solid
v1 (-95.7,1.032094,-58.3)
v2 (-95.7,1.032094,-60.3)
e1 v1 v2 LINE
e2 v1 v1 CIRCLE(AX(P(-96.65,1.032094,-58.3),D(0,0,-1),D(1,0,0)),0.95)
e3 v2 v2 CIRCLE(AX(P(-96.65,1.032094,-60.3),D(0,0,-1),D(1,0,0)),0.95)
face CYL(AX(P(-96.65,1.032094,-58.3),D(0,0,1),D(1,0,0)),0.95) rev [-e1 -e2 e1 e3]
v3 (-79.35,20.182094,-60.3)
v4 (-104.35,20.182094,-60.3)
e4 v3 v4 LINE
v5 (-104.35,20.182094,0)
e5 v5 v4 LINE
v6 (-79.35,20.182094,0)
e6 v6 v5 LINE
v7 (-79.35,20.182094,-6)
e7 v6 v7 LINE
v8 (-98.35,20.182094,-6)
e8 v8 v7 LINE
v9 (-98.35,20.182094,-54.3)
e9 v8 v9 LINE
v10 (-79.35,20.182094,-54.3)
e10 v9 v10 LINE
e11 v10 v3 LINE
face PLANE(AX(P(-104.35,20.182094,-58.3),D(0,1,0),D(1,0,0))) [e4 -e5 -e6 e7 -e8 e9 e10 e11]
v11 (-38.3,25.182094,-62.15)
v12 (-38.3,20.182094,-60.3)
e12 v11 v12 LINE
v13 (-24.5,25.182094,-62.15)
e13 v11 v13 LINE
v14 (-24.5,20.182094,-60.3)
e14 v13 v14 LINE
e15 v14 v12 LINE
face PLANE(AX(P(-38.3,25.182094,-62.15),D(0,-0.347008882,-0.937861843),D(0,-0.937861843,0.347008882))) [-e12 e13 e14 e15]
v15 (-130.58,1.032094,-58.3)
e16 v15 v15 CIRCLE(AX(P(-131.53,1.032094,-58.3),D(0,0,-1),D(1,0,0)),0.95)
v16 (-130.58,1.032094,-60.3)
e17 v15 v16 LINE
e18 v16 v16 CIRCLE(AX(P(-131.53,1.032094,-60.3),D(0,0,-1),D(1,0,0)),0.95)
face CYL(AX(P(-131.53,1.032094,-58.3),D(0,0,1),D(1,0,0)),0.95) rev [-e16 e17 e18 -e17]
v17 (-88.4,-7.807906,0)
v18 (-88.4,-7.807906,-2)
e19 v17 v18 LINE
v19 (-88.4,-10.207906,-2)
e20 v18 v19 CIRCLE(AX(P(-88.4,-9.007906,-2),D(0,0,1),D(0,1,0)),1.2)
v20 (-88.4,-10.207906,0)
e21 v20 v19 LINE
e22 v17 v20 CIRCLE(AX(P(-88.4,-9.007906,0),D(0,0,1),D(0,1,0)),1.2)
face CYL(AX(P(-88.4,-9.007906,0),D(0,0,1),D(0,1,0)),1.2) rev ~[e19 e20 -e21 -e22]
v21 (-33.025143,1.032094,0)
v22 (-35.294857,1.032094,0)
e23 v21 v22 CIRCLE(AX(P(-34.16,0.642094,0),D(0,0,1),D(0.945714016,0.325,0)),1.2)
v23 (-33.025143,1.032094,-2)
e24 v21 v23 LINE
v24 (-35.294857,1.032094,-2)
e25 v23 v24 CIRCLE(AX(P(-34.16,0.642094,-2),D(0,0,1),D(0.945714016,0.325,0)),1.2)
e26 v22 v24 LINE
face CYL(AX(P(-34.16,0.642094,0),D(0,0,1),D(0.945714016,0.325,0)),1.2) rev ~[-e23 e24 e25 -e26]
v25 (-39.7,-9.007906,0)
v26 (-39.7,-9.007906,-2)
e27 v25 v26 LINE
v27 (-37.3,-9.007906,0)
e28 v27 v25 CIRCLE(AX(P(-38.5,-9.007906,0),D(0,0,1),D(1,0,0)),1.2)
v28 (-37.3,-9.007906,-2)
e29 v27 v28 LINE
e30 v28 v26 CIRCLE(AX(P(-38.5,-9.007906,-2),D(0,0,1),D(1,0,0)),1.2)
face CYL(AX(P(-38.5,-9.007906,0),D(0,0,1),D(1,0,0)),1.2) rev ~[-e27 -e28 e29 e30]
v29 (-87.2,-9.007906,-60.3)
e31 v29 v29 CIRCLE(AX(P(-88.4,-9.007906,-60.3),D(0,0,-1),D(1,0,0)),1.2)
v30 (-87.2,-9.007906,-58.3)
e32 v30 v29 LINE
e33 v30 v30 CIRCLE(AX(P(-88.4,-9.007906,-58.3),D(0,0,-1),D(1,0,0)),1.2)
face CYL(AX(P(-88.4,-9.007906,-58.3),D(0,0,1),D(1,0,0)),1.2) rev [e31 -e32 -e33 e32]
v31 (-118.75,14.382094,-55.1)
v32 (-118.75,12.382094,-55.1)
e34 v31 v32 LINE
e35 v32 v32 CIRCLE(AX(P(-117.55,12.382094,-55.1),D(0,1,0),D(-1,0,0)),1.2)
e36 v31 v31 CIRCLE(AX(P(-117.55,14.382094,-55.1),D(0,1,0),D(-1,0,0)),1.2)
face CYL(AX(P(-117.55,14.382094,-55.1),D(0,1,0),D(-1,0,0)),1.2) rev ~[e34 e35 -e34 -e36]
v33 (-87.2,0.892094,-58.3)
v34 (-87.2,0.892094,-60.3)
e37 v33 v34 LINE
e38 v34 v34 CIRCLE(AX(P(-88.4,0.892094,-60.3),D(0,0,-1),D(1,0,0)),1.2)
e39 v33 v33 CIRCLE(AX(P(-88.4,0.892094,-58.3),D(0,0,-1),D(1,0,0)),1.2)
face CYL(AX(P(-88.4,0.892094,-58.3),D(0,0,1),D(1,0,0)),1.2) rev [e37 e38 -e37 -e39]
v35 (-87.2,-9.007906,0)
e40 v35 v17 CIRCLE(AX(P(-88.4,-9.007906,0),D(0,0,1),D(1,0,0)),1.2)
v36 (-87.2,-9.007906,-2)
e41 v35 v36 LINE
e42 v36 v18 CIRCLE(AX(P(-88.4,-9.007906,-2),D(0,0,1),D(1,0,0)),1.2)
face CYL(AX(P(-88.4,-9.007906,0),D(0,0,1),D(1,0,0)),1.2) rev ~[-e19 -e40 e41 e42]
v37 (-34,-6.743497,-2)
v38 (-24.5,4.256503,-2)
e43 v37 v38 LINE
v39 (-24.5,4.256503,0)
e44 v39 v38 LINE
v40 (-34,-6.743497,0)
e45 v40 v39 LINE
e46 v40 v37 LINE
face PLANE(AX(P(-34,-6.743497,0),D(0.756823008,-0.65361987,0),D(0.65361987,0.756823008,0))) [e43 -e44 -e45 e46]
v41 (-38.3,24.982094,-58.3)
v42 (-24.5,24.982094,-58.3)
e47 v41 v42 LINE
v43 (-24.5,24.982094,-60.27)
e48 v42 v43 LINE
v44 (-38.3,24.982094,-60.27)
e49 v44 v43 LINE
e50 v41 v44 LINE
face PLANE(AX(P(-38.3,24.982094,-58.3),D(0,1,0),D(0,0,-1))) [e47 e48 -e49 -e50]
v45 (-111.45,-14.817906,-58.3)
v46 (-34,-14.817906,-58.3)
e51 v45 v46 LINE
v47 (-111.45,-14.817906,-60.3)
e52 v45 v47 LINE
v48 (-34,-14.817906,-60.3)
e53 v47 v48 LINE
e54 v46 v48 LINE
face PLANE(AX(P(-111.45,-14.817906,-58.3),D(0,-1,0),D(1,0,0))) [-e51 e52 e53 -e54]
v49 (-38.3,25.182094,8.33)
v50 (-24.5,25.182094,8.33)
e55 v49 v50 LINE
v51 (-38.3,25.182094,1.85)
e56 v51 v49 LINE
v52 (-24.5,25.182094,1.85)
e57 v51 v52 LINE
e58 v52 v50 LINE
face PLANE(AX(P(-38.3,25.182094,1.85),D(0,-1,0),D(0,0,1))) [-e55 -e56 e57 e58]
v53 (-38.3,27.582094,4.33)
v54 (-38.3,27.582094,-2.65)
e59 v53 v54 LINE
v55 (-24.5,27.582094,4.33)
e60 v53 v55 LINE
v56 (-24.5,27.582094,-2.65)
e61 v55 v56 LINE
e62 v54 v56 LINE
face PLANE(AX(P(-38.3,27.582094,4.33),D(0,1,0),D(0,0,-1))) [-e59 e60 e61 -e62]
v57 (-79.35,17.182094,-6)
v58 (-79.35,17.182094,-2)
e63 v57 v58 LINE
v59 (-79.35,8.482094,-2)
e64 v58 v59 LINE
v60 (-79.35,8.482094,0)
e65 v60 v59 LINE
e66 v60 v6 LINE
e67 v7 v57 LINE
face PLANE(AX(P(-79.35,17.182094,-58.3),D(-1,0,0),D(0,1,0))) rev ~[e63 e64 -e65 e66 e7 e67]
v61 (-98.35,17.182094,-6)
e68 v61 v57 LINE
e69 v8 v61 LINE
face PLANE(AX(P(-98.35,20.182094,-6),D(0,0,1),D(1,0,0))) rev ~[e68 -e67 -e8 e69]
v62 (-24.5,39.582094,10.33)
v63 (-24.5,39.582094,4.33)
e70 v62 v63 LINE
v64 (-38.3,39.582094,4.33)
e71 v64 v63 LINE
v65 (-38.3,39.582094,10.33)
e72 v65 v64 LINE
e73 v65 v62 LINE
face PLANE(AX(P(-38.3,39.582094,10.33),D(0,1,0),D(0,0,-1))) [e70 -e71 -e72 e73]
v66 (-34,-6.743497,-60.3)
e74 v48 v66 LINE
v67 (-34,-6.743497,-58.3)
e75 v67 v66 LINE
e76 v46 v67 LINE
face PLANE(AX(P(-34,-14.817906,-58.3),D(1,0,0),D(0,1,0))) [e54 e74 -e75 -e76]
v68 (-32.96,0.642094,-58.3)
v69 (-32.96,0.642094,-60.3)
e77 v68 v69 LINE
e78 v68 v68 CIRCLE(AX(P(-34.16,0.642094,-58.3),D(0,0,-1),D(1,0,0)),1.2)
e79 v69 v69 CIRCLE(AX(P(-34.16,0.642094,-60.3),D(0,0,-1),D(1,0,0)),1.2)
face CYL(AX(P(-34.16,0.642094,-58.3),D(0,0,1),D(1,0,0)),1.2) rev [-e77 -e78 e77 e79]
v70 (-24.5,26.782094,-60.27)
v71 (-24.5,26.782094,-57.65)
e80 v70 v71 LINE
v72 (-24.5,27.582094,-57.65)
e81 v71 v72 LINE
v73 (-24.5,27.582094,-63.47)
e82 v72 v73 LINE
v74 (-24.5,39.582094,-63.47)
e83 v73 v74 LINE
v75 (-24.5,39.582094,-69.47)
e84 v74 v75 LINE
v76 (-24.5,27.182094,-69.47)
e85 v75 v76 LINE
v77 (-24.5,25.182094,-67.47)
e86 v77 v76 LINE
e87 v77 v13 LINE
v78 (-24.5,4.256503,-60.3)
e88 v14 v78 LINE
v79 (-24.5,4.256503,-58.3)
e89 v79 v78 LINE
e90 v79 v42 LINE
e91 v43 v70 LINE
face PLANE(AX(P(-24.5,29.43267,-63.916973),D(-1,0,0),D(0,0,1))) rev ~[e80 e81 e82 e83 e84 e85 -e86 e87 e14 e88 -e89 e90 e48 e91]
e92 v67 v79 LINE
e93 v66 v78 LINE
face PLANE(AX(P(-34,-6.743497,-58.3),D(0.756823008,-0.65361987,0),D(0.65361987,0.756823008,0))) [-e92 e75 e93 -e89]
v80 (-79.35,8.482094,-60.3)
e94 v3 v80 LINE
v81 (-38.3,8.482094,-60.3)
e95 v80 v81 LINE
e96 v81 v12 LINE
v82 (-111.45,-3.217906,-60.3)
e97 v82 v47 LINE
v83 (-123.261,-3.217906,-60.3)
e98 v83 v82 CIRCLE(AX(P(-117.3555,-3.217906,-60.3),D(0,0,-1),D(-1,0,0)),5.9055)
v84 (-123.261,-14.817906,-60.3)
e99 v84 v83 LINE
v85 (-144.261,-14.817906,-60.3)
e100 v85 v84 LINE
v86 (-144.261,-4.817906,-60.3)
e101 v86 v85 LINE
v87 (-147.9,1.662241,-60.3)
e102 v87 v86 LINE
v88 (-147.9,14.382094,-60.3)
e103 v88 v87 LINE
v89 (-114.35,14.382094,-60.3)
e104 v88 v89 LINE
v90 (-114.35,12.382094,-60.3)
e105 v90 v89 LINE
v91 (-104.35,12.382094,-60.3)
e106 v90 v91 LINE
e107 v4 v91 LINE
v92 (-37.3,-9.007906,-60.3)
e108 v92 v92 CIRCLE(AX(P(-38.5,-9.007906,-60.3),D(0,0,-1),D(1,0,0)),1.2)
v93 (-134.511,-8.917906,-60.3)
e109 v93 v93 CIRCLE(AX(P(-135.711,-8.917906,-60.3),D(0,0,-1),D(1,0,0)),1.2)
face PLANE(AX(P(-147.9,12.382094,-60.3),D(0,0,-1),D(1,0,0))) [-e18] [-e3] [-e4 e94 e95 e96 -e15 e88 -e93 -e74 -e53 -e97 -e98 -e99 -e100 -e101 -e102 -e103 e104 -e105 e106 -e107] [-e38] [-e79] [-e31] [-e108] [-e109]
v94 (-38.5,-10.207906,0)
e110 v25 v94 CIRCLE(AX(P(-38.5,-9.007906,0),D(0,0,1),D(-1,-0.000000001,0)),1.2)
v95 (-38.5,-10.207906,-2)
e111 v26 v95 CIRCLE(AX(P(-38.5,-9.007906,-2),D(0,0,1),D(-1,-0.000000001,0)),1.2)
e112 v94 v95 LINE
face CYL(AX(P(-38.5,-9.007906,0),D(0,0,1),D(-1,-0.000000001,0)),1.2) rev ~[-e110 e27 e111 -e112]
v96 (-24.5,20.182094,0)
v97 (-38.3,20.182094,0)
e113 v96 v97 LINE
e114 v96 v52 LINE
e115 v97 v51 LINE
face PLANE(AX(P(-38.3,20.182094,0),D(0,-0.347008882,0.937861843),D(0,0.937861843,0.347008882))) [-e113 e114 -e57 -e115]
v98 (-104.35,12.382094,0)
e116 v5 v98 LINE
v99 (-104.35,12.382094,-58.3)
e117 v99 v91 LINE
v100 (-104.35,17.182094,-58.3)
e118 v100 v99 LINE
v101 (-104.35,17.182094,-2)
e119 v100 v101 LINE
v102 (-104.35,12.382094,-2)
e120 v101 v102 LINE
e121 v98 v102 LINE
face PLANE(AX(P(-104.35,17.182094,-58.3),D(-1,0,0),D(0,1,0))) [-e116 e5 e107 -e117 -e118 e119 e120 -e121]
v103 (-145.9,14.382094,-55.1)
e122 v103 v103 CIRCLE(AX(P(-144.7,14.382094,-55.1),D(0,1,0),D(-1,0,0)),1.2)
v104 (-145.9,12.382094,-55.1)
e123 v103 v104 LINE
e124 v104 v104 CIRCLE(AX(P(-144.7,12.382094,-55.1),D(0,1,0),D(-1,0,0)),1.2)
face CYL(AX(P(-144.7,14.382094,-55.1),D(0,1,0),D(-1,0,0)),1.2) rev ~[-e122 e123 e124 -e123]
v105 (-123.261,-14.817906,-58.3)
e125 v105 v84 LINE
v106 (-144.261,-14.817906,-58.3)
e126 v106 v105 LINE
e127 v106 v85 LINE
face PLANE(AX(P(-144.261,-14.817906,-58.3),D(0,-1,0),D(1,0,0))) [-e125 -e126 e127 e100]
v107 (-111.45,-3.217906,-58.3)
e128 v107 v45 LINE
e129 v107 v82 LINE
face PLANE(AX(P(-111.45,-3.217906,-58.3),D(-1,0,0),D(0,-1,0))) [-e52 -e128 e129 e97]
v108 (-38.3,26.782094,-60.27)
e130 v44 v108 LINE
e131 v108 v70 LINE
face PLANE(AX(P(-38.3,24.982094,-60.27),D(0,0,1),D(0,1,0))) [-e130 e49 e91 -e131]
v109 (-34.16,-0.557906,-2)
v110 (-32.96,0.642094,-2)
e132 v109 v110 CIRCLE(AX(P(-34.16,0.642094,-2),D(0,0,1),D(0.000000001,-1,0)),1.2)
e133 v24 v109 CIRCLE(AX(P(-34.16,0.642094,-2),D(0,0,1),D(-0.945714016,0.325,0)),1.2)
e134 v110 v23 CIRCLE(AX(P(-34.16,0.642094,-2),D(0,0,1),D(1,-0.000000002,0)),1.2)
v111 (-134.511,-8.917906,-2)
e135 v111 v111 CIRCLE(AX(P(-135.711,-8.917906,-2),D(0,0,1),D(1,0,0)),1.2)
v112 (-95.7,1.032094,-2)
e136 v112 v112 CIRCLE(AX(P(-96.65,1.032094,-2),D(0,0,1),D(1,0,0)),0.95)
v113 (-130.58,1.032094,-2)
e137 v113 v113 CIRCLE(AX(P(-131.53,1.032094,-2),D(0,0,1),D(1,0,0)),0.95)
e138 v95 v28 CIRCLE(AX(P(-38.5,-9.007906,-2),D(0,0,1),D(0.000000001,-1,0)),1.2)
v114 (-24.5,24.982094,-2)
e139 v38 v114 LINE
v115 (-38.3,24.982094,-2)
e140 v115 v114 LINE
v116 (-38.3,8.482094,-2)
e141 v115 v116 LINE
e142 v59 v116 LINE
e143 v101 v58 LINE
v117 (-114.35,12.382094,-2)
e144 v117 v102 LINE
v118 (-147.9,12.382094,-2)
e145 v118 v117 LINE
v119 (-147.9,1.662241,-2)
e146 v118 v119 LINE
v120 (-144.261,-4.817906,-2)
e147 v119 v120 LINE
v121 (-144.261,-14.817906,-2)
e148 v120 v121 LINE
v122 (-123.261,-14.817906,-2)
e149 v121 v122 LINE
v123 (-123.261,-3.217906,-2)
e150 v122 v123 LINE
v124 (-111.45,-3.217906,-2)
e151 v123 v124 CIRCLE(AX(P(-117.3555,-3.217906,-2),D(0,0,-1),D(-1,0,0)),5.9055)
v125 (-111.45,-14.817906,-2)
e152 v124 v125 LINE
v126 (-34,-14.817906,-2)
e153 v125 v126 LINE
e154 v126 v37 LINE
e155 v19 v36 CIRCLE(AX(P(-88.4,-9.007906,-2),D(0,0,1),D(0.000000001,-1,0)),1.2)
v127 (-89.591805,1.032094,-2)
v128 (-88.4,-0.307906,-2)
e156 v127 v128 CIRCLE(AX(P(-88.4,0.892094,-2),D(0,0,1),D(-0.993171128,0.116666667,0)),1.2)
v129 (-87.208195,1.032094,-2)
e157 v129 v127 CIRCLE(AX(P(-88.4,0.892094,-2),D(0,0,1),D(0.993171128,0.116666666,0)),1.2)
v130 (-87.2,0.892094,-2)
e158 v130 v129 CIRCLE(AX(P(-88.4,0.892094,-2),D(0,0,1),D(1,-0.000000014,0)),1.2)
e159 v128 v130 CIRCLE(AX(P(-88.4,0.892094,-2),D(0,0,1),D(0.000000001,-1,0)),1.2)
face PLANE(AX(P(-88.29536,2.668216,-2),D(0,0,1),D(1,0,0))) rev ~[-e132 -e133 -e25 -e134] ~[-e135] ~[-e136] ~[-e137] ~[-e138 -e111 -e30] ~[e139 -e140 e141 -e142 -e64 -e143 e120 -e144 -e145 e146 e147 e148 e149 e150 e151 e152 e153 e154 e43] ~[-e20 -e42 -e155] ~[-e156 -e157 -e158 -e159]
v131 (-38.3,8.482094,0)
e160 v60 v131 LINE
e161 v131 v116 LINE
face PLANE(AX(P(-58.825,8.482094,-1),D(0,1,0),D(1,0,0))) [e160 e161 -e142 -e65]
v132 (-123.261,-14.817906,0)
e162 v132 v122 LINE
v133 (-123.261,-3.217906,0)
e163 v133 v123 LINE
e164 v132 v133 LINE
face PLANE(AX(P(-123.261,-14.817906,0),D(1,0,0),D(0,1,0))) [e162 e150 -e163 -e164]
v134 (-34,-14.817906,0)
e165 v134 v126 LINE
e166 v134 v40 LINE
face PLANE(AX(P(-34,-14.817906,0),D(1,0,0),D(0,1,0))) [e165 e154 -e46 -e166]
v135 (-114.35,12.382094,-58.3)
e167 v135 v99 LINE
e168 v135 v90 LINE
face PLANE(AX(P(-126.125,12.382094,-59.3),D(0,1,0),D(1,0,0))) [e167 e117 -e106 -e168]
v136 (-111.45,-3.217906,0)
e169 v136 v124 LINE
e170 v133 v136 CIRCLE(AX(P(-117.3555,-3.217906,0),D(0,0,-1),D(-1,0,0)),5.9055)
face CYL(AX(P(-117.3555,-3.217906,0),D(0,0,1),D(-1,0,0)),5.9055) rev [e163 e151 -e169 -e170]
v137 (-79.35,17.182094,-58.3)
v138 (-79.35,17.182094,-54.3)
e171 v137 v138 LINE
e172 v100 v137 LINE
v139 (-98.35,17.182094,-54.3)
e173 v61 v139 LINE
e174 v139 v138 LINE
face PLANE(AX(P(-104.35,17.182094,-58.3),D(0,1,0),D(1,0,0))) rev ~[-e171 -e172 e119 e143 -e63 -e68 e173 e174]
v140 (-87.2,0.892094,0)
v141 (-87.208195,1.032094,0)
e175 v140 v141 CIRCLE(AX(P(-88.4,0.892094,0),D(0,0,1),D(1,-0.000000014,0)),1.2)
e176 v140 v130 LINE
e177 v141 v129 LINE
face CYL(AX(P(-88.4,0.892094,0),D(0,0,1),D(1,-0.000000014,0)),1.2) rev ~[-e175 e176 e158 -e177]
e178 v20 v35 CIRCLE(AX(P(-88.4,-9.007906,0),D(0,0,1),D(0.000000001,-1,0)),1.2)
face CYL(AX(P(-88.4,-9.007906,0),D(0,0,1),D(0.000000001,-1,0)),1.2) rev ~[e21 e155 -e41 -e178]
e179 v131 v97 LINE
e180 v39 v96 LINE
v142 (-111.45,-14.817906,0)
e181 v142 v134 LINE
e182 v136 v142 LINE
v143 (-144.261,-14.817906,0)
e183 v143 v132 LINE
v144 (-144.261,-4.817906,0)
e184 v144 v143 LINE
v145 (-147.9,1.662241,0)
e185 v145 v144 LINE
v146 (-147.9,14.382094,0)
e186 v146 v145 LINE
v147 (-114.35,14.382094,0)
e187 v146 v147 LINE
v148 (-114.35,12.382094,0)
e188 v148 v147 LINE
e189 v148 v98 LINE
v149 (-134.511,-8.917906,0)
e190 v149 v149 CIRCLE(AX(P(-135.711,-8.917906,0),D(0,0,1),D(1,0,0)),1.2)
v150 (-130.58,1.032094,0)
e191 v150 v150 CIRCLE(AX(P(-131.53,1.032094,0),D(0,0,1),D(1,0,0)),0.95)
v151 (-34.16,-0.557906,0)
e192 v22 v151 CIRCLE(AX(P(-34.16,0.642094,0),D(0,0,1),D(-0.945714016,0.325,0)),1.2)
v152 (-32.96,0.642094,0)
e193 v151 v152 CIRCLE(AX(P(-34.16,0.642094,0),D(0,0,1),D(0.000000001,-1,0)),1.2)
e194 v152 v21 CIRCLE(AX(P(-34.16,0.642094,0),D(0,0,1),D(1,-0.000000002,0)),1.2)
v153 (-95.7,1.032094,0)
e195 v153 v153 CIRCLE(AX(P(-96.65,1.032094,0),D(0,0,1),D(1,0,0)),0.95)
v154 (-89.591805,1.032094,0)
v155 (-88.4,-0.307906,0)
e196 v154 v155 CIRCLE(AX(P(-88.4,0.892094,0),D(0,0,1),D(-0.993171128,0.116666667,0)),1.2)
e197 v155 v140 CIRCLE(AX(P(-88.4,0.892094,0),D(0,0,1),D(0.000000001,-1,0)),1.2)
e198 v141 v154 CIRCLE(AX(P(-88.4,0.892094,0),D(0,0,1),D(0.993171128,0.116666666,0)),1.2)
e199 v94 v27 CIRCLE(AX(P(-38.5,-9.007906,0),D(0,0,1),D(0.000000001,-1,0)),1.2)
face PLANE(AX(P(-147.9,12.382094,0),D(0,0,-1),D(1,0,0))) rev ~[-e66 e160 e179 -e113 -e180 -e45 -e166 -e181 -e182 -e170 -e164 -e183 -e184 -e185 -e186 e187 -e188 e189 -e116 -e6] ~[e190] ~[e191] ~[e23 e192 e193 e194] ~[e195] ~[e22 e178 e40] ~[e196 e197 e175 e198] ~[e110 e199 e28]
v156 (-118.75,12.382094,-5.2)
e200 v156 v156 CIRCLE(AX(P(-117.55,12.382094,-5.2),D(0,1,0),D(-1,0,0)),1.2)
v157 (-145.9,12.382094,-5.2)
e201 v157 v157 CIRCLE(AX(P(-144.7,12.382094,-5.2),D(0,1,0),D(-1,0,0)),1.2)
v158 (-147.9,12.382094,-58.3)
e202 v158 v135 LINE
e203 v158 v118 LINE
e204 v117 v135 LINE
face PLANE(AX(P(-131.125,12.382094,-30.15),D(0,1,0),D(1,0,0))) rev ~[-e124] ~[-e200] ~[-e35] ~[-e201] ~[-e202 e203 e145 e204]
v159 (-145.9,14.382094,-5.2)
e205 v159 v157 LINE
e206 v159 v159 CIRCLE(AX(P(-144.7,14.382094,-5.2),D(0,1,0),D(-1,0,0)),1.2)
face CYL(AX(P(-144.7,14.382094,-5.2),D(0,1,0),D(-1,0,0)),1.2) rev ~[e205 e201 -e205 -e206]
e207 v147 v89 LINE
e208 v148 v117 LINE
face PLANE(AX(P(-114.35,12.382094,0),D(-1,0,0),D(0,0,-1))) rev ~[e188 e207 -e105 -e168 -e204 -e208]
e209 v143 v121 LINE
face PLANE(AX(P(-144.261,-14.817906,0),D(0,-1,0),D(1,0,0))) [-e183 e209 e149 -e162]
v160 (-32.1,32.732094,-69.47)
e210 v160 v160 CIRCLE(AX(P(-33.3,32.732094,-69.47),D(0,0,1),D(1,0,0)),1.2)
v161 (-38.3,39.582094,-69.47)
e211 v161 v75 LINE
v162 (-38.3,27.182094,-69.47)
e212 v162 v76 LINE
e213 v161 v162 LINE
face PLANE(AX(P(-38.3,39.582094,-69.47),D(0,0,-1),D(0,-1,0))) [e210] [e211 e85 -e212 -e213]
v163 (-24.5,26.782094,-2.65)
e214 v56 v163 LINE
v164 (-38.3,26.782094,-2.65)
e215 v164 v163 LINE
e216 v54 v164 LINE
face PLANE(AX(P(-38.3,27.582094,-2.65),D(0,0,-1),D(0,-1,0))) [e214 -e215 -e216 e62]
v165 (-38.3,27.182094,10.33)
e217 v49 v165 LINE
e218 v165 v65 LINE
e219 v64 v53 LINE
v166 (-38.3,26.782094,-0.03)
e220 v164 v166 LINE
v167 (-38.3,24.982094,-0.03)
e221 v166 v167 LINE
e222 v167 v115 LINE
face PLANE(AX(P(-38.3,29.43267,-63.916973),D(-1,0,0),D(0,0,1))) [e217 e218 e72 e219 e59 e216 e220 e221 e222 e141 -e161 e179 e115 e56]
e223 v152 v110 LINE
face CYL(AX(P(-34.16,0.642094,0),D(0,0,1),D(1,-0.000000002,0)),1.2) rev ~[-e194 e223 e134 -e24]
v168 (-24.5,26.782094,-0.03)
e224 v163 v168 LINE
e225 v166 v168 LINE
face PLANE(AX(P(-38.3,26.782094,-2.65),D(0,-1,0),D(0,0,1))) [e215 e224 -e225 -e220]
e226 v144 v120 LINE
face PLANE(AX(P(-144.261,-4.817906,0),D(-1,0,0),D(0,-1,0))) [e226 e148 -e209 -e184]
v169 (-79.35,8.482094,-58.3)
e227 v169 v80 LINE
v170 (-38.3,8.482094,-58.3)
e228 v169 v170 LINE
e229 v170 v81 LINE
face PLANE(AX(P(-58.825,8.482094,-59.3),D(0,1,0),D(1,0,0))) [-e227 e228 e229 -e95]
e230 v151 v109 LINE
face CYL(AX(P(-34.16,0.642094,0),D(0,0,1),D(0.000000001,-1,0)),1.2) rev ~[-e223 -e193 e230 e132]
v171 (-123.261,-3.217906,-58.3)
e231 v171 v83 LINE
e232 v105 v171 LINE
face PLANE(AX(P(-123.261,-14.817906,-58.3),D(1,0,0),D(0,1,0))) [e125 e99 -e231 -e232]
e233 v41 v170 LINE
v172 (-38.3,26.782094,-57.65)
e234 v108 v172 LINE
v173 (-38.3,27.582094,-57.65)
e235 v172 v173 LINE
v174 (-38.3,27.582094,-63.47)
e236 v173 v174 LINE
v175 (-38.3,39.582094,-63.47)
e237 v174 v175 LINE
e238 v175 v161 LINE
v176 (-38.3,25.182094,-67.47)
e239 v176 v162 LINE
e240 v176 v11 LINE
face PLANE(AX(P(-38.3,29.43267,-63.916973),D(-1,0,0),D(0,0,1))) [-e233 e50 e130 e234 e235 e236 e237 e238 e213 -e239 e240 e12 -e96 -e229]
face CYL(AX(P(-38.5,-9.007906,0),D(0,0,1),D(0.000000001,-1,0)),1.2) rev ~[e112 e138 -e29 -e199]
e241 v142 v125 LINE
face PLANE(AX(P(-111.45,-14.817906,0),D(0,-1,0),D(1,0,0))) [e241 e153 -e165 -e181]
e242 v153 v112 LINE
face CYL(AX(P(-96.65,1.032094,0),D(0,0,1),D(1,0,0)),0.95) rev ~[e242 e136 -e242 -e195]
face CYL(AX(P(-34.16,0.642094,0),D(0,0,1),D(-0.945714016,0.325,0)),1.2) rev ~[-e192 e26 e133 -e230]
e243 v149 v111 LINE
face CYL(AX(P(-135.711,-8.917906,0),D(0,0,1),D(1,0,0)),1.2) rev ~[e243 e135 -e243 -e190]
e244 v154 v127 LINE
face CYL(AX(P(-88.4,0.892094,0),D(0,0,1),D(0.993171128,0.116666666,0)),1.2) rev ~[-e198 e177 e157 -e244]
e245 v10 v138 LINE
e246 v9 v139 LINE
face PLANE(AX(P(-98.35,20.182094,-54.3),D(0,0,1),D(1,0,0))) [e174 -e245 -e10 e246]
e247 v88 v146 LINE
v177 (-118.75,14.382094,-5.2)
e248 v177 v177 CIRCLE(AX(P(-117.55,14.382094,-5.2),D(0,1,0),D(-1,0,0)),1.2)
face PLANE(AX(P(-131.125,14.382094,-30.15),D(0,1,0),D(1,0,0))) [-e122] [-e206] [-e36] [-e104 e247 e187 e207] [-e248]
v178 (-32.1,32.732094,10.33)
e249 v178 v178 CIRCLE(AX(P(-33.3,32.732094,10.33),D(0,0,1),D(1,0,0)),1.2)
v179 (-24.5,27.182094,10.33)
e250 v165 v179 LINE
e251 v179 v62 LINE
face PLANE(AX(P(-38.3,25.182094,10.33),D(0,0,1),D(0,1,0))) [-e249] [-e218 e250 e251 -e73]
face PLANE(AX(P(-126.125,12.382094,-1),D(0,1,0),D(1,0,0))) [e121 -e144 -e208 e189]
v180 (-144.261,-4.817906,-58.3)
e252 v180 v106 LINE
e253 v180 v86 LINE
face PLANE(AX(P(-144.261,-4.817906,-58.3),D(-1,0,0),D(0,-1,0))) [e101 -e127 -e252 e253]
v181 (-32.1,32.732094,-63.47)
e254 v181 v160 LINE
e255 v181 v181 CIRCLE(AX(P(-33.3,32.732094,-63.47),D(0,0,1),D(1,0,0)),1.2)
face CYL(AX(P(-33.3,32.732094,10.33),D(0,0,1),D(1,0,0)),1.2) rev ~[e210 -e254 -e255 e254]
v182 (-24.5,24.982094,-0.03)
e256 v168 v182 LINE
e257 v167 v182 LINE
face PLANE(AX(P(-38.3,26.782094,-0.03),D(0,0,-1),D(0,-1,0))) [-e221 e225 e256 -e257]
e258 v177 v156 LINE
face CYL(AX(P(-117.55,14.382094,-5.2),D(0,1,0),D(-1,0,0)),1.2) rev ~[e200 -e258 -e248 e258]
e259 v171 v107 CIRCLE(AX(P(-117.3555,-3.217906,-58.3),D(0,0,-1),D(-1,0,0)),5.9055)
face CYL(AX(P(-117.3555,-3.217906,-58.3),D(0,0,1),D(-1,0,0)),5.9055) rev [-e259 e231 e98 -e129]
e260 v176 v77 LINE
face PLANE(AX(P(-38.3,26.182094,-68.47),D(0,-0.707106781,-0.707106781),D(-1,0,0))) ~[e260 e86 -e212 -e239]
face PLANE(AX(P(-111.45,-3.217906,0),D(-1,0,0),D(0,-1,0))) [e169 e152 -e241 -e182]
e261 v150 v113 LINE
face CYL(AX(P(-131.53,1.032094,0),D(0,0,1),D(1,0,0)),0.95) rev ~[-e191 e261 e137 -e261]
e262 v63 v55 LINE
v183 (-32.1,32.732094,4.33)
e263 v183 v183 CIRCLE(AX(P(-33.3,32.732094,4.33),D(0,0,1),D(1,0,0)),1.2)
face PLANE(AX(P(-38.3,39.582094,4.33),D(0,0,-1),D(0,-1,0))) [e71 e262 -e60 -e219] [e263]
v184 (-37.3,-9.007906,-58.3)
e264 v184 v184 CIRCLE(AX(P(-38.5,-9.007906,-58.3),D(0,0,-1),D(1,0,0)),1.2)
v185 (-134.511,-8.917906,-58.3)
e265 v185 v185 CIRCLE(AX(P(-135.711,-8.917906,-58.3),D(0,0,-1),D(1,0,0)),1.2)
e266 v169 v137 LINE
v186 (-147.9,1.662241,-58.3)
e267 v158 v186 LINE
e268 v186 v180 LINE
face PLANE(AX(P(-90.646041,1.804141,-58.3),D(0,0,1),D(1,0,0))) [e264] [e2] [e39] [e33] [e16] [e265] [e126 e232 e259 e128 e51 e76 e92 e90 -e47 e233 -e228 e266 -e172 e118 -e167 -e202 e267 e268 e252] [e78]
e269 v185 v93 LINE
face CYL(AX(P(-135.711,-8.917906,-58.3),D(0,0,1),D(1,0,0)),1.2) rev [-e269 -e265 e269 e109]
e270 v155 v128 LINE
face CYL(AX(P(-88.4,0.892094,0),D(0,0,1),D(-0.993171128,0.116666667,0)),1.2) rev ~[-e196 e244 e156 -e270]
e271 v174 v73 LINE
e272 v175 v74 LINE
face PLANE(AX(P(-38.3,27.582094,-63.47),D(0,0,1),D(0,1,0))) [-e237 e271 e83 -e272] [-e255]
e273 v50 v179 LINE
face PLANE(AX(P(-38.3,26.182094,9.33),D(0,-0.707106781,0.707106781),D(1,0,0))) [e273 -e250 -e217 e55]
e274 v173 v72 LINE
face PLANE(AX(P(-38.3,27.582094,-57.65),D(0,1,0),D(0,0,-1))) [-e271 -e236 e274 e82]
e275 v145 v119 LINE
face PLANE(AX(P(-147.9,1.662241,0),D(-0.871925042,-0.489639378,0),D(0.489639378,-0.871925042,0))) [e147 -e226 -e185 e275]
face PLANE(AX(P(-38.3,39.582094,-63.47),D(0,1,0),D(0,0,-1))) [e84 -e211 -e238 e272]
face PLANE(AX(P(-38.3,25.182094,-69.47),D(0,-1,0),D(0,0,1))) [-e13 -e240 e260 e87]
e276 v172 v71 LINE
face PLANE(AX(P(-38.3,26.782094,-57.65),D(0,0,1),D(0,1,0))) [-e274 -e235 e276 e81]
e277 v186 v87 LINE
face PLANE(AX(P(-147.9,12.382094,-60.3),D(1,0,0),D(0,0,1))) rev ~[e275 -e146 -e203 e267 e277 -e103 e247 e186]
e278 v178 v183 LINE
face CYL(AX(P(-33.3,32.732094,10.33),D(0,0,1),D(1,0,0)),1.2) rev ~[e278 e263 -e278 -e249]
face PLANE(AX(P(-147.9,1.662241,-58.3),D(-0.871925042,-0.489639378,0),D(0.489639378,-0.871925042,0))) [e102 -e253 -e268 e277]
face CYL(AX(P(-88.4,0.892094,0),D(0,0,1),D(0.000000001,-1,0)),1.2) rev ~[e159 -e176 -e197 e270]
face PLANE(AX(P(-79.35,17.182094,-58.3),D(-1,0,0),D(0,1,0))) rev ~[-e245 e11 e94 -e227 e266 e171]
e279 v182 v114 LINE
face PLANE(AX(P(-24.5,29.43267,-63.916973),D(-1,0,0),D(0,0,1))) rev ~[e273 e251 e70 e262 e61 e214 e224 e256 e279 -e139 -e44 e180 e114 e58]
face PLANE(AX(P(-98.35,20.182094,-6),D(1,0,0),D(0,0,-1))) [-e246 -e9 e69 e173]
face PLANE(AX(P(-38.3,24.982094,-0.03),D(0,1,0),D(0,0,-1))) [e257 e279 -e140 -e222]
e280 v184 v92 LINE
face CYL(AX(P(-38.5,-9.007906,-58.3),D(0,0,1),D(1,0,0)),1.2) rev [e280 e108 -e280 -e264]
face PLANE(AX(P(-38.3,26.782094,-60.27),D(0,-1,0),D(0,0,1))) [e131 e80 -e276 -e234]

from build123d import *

# Parameters (mm, degrees)
EXTRUDE_1_DEPTH     = 2
SKETCH_3_R          = 1.2
SKETCH_3_R_2        = 0.95
CUT_EXTRUDE_1_DEPTH = 2
SKETCH_4_W          = 56.3
SKETCH_4_H          = 2
EXTRUDE_2_DEPTH     = 13.8
SKETCH_5_R          = 1.2
SKETCH_5_R_2        = 0.95
SKETCH_5_W          = 13.8
SKETCH_5_H          = 5
SKETCH_5_H_2        = 2
EXTRUDE_3_DEPTH     = 2
SKETCH_6_W          = 43.55
SKETCH_6_H          = 2
CUT_EXTRUDE_2_DEPTH = 7.8
SKETCH_7_W          = 41.05
SKETCH_7_H          = 2
CUT_EXTRUDE_3_DEPTH = 3.9
EXTRUDE_4_DEPTH     = 13.8
SKETCH_9_W          = 25
SKETCH_9_H          = 3
EXTRUDE_5_DEPTH     = 56.3
SKETCH_10_W         = 33.55
SKETCH_10_H         = 56.3
SKETCH_10_H_2       = 2
EXTRUDE_6_DEPTH     = 2
SKETCH_11_W         = 56.3
SKETCH_11_H         = 2
CUT_EXTRUDE_4_DEPTH = 13.8
SKETCH_12_R         = 1.2
CUT_EXTRUDE_5_DEPTH = 166.991357908
SKETCH_16_R         = 1.2
CUT_EXTRUDE_6_DEPTH = 173.653387316
CHAMFER_1_SIZE      = 2
SKETCH_17_W         = 19
SKETCH_17_H         = 48.3
CUT_EXTRUDE_7_DEPTH = 10


with BuildPart() as part:
    # 草图2 → 凸台-拉伸1 (new body)
    with BuildSketch(Plane.XY):
        with BuildLine():
            Line((-24.5, 4.256503127), (-24.5, 20.182093825))
            Line((-24.5, 20.182093825), (-38.3, 20.182093825))
            Line((-38.3, 20.182093825), (-38.3, 12.382093825))
            Line((-38.3, 12.382093825), (-79.35, 12.382093825))
            Line((-79.35, 12.382093825), (-79.35, 20.182093825))
            Line((-79.35, 20.182093825), (-147.9, 20.182093825))
            Line((-147.9, 20.182093825), (-147.9, 1.662240991))
            Line((-147.9, 1.662240991), (-144.261, -4.817906175))
            Line((-144.261, -4.817906175), (-144.261, -14.817906175))
            Line((-144.261, -14.817906175), (-123.261, -14.817906175))
            Line((-123.261, -14.817906175), (-123.261, -3.217906175))
            ThreePointArc((-123.261, -3.217906175), (-117.3555, 2.687593825), (-111.45, -3.217906175))
            Line((-111.45, -3.217906175), (-111.45, -14.817906175))
            Line((-111.45, -14.817906175), (-34, -14.817906175))
            Line((-34, -14.817906175), (-34, -6.743496873))
            Line((-34, -6.743496873), (-24.5, 4.256503127))
        make_face()
    extrude(amount=-EXTRUDE_1_DEPTH)

    # 草图3 → 切除-拉伸1 (cut)
    with BuildSketch(Plane.XY):
        with Locations((-135.711, -8.917906175)):
            Circle(SKETCH_3_R)
        with Locations((-131.53, 1.032093825)):
            Circle(SKETCH_3_R_2)
        with Locations((-96.65, 1.032093825)):
            Circle(SKETCH_3_R_2)
        with BuildLine():
            ThreePointArc((-89.591805353, 1.032093825), (-89.296660471, 0.094597744), (-88.4, -0.307906175))
            ThreePointArc((-88.4, -0.307906175), (-87.551471863, 0.043565688), (-87.2, 0.892093825))
            ThreePointArc((-87.2, 0.892093825), (-87.202050413, 0.962213637), (-87.208194647, 1.032093825))
            Line((-87.208194647, 1.032093825), (-89.591805353, 1.032093825))
        make_face()
        with BuildLine():
            Line((-89.591805353, 1.032093825), (-87.208194647, 1.032093825))
            ThreePointArc((-87.208194647, 1.032093825), (-88.4, 2.092093825), (-89.591805353, 1.032093825))
        make_face()
        with BuildLine():
            ThreePointArc((-88.4, -10.207906175), (-87.551471863, -9.856434312), (-87.2, -9.007906175))
            ThreePointArc((-87.2, -9.007906175), (-87.551471863, -8.159378037), (-88.4, -7.807906175))
            Line((-88.4, -7.807906175), (-88.4, -10.207906175))
        make_face()
        with BuildLine():
            ThreePointArc((-88.4, -7.807906175), (-89.6, -9.007906175), (-88.4, -10.207906175))
            Line((-88.4, -10.207906175), (-88.4, -7.807906175))
        make_face()
        with BuildLine():
            ThreePointArc((-35.294856819, 1.032093825), (-35.136729236, -0.055043177), (-34.16, -0.557906175))
            ThreePointArc((-34.16, -0.557906175), (-33.311471863, -0.206434312), (-32.96, 0.642093825))
            ThreePointArc((-32.96, 0.642093825), (-32.976397832, 0.839795389), (-33.025143181, 1.032093825))
            Line((-33.025143181, 1.032093825), (-35.294856819, 1.032093825))
        make_face()
        with BuildLine():
            ThreePointArc((-33.025143181, 1.032093825), (-34.16, 1.842093825), (-35.294856819, 1.032093825))
            Line((-35.294856819, 1.032093825), (-33.025143181, 1.032093825))
        make_face()
        with BuildLine():
            ThreePointArc((-39.7, -9.007906175), (-39.348528137, -9.856434312), (-38.5, -10.207906175))
            ThreePointArc((-38.5, -10.207906175), (-37.651471863, -9.856434312), (-37.3, -9.007906175))
            Line((-37.3, -9.007906175), (-39.7, -9.007906175))
        make_face()
        with BuildLine():
            Line((-39.7, -9.007906175), (-37.3, -9.007906175))
            ThreePointArc((-37.3, -9.007906175), (-38.5, -7.807906175), (-39.7, -9.007906175))
        make_face()
    extrude(amount=-CUT_EXTRUDE_1_DEPTH, mode=Mode.SUBTRACT)

    # 草图4 → 凸台-拉伸2 (add)
    with BuildSketch(Plane.ZY.offset(38.3)):
        with Locations((-30.15, 14.182093825)):
            Rectangle(SKETCH_4_W, SKETCH_4_H)
    extrude(amount=-EXTRUDE_2_DEPTH)

    # 草图5 → 凸台-拉伸3 (add)
    # profile 1 of 3: a face of its own
    with BuildSketch(Plane(origin=(0, 0, -58.3), x_dir=(-1, 0, 0), z_dir=(0, 0, -1))):
        with BuildLine():
            ThreePointArc((123.261, -3.217906175), (117.3555, 2.687593825), (111.45, -3.217906175))
            Line((111.45, -3.217906175), (111.45, -14.817906175))
            Line((111.45, -14.817906175), (34, -14.817906175))
            Line((34, -14.817906175), (34, -6.743496873))
            Line((34, -6.743496873), (24.5, 4.256503127))
            Line((24.5, 4.256503127), (24.5, 13.182093825))
            Line((24.5, 13.182093825), (38.3, 13.182093825))
            Line((38.3, 13.182093825), (38.3, 12.382093825))
            Line((38.3, 12.382093825), (79.35, 12.382093825))
            Line((79.35, 12.382093825), (79.35, 20.182093825))
            Line((79.35, 20.182093825), (147.9, 20.182093825))
            Line((147.9, 20.182093825), (147.9, 1.662240991))
            Line((147.9, 1.662240991), (144.261, -4.817906175))
            Line((144.261, -4.817906175), (144.261, -14.817906175))
            Line((144.261, -14.817906175), (123.261, -14.817906175))
            Line((123.261, -14.817906175), (123.261, -3.217906175))
        make_face()
        with Locations(Location((135.711, -8.917906175, 0), (0, 0, 180))):
            Circle(SKETCH_5_R, mode=Mode.SUBTRACT)
        with Locations(Location((131.53, 1.032093825, 0), (0, 0, 180))):
            Circle(SKETCH_5_R_2, mode=Mode.SUBTRACT)
        with Locations(Location((96.65, 1.032093825, 0), (0, 0, 180))):
            Circle(SKETCH_5_R_2, mode=Mode.SUBTRACT)
        with Locations(Location((88.4, -9.007906175, 0), (0, 0, 180))):
            Circle(SKETCH_5_R, mode=Mode.SUBTRACT)
        with Locations(Location((88.4, 0.892093825, 0), (0, 0, 180))):
            Circle(SKETCH_5_R, mode=Mode.SUBTRACT)
        with Locations(Location((38.5, -9.007906175, 0), (0, 0, 180))):
            Circle(SKETCH_5_R, mode=Mode.SUBTRACT)
        with Locations(Location((34.16, 0.642093825, 0), (0, 0, 180))):
            Circle(SKETCH_5_R, mode=Mode.SUBTRACT)
    # profile 2 of 3: a face of its own
    with BuildSketch(Plane(origin=(0, 0, -58.3), x_dir=(-1, 0, 0), z_dir=(0, 0, -1))):
        with Locations((31.4, 17.682093825)):
            Rectangle(SKETCH_5_W, SKETCH_5_H)
    # profile 3 of 3: a face of its own
    with BuildSketch(Plane(origin=(0, 0, -58.3), x_dir=(-1, 0, 0), z_dir=(0, 0, -1))):
        with Locations((31.4, 14.182093825)):
            Rectangle(SKETCH_5_W, SKETCH_5_H_2)
    extrude(amount=EXTRUDE_3_DEPTH)

    # 草图6 → 切除-拉伸2 (cut)
    with BuildSketch(Plane(origin=(0, 20.182093825, 0), x_dir=(1, 0, 0), z_dir=(0, 1, 0))):
        with Locations((-126.125, 1)):
            Rectangle(SKETCH_6_W, SKETCH_6_H)
        with Locations((-126.125, 59.3)):
            Rectangle(SKETCH_6_W, SKETCH_6_H)
    extrude(amount=-CUT_EXTRUDE_2_DEPTH, mode=Mode.SUBTRACT)

    # 草图7 → 切除-拉伸3 (cut)
    with BuildSketch(Plane(origin=(0, 12.382093825, 0), x_dir=(1, 0, 0), z_dir=(0, 1, 0))):
        with Locations((-58.825, 1)):
            Rectangle(SKETCH_7_W, SKETCH_7_H)
        with Locations((-58.825, 59.3)):
            Rectangle(SKETCH_7_W, SKETCH_7_H)
    extrude(amount=-CUT_EXTRUDE_3_DEPTH, mode=Mode.SUBTRACT)

    # 草图8 → 凸台-拉伸4 (add)
    with BuildSketch(Plane.ZY.offset(38.3)):
        Polygon((-62.15, 25.182093825), (-60.3, 20.182093825), (-58.3, 20.182093825), (-58.3, 24.982093825), (-60.27, 24.982093825), (-60.27, 26.782093825), (-57.65, 26.782093825), (-57.65, 27.582093825), (-63.47, 27.582093825), (-63.47, 39.582093825), (-69.47, 39.582093825), (-69.47, 25.182093825), align=None)
        Polygon((-2, 24.982093825), (-2, 20.182093825), (0, 20.182093825), (1.85, 25.182093825), (10.33, 25.182093825), (10.33, 39.582093825), (4.33, 39.582093825), (4.33, 27.582093825), (-2.65, 27.582093825), (-2.65, 26.782093825), (-0.03, 26.782093825), (-0.03, 24.982093825), align=None)
    extrude(amount=-EXTRUDE_4_DEPTH)

    # 草图9 → 凸台-拉伸5 (add)
    with BuildSketch(Plane.XY.offset(-58.3)):
        with Locations((-91.85, 18.682093825)):
            Rectangle(SKETCH_9_W, SKETCH_9_H)
    extrude(amount=EXTRUDE_5_DEPTH)

    # 草图10 → 凸台-拉伸6 (add)
    with BuildSketch(Plane(origin=(0, 12.382093825, 0), x_dir=(1, 0, 0), z_dir=(0, 1, 0))):
        with Locations((-131.125, 30.15)):
            Rectangle(SKETCH_10_W, SKETCH_10_H)
        with Locations((-131.125, 1)):
            Rectangle(SKETCH_10_W, SKETCH_10_H_2)
        with Locations((-131.125, 59.3)):
            Rectangle(SKETCH_10_W, SKETCH_10_H_2)
    extrude(amount=EXTRUDE_6_DEPTH)

    # 草图11 → 切除-拉伸4 (cut)
    with BuildSketch(Plane.ZY.offset(38.3)):
        with Locations((-30.15, 14.182093825)):
            Rectangle(SKETCH_11_W, SKETCH_11_H)
    extrude(amount=-CUT_EXTRUDE_4_DEPTH, mode=Mode.SUBTRACT)

    # 草图12 → 切除-拉伸5 (cut, through all)
    with BuildSketch(Plane(origin=(0, 14.382093825, 0), x_dir=(1, 0, 0), z_dir=(0, 1, 0))):
        with Locations(Location((-117.55, 5.2, 0), (0, 0, 180))):
            Circle(SKETCH_12_R)
        with Locations(Location((-117.55, 55.1, 0), (0, 0, 180))):
            Circle(SKETCH_12_R)
        with Locations(Location((-144.7, 55.1, 0), (0, 0, 180))):
            Circle(SKETCH_12_R)
        with Locations(Location((-144.7, 5.2, 0), (0, 0, 180))):
            Circle(SKETCH_12_R)
    extrude(amount=-CUT_EXTRUDE_5_DEPTH, mode=Mode.SUBTRACT)

    # 草图16 → 切除-拉伸6 (cut, through all)
    with BuildSketch(Plane.XY.offset(10.33)):
        with Locations((-33.3, 32.732093825)):
            Circle(SKETCH_16_R)
    extrude(amount=-CUT_EXTRUDE_6_DEPTH, mode=Mode.SUBTRACT)

    # 倒角1
    chamfer_1_edges = [part.edges().sort_by_distance(p)[0] for p in [
        (-31.4, 25.182093825, -69.47),
        (-31.4, 25.182093825, 10.33),
    ]]
    chamfer(chamfer_1_edges, length=CHAMFER_1_SIZE)

    # 草图17 → 切除-拉伸7 (cut)
    with BuildSketch(Plane(origin=(0, 20.182093825, 0), x_dir=(1, 0, 0), z_dir=(0, 1, 0))):
        with Locations((-88.85, 30.15)):
            Rectangle(SKETCH_17_W, SKETCH_17_H)
    extrude(amount=-CUT_EXTRUDE_7_DEPTH, mode=Mode.SUBTRACT)


solid = part.part
